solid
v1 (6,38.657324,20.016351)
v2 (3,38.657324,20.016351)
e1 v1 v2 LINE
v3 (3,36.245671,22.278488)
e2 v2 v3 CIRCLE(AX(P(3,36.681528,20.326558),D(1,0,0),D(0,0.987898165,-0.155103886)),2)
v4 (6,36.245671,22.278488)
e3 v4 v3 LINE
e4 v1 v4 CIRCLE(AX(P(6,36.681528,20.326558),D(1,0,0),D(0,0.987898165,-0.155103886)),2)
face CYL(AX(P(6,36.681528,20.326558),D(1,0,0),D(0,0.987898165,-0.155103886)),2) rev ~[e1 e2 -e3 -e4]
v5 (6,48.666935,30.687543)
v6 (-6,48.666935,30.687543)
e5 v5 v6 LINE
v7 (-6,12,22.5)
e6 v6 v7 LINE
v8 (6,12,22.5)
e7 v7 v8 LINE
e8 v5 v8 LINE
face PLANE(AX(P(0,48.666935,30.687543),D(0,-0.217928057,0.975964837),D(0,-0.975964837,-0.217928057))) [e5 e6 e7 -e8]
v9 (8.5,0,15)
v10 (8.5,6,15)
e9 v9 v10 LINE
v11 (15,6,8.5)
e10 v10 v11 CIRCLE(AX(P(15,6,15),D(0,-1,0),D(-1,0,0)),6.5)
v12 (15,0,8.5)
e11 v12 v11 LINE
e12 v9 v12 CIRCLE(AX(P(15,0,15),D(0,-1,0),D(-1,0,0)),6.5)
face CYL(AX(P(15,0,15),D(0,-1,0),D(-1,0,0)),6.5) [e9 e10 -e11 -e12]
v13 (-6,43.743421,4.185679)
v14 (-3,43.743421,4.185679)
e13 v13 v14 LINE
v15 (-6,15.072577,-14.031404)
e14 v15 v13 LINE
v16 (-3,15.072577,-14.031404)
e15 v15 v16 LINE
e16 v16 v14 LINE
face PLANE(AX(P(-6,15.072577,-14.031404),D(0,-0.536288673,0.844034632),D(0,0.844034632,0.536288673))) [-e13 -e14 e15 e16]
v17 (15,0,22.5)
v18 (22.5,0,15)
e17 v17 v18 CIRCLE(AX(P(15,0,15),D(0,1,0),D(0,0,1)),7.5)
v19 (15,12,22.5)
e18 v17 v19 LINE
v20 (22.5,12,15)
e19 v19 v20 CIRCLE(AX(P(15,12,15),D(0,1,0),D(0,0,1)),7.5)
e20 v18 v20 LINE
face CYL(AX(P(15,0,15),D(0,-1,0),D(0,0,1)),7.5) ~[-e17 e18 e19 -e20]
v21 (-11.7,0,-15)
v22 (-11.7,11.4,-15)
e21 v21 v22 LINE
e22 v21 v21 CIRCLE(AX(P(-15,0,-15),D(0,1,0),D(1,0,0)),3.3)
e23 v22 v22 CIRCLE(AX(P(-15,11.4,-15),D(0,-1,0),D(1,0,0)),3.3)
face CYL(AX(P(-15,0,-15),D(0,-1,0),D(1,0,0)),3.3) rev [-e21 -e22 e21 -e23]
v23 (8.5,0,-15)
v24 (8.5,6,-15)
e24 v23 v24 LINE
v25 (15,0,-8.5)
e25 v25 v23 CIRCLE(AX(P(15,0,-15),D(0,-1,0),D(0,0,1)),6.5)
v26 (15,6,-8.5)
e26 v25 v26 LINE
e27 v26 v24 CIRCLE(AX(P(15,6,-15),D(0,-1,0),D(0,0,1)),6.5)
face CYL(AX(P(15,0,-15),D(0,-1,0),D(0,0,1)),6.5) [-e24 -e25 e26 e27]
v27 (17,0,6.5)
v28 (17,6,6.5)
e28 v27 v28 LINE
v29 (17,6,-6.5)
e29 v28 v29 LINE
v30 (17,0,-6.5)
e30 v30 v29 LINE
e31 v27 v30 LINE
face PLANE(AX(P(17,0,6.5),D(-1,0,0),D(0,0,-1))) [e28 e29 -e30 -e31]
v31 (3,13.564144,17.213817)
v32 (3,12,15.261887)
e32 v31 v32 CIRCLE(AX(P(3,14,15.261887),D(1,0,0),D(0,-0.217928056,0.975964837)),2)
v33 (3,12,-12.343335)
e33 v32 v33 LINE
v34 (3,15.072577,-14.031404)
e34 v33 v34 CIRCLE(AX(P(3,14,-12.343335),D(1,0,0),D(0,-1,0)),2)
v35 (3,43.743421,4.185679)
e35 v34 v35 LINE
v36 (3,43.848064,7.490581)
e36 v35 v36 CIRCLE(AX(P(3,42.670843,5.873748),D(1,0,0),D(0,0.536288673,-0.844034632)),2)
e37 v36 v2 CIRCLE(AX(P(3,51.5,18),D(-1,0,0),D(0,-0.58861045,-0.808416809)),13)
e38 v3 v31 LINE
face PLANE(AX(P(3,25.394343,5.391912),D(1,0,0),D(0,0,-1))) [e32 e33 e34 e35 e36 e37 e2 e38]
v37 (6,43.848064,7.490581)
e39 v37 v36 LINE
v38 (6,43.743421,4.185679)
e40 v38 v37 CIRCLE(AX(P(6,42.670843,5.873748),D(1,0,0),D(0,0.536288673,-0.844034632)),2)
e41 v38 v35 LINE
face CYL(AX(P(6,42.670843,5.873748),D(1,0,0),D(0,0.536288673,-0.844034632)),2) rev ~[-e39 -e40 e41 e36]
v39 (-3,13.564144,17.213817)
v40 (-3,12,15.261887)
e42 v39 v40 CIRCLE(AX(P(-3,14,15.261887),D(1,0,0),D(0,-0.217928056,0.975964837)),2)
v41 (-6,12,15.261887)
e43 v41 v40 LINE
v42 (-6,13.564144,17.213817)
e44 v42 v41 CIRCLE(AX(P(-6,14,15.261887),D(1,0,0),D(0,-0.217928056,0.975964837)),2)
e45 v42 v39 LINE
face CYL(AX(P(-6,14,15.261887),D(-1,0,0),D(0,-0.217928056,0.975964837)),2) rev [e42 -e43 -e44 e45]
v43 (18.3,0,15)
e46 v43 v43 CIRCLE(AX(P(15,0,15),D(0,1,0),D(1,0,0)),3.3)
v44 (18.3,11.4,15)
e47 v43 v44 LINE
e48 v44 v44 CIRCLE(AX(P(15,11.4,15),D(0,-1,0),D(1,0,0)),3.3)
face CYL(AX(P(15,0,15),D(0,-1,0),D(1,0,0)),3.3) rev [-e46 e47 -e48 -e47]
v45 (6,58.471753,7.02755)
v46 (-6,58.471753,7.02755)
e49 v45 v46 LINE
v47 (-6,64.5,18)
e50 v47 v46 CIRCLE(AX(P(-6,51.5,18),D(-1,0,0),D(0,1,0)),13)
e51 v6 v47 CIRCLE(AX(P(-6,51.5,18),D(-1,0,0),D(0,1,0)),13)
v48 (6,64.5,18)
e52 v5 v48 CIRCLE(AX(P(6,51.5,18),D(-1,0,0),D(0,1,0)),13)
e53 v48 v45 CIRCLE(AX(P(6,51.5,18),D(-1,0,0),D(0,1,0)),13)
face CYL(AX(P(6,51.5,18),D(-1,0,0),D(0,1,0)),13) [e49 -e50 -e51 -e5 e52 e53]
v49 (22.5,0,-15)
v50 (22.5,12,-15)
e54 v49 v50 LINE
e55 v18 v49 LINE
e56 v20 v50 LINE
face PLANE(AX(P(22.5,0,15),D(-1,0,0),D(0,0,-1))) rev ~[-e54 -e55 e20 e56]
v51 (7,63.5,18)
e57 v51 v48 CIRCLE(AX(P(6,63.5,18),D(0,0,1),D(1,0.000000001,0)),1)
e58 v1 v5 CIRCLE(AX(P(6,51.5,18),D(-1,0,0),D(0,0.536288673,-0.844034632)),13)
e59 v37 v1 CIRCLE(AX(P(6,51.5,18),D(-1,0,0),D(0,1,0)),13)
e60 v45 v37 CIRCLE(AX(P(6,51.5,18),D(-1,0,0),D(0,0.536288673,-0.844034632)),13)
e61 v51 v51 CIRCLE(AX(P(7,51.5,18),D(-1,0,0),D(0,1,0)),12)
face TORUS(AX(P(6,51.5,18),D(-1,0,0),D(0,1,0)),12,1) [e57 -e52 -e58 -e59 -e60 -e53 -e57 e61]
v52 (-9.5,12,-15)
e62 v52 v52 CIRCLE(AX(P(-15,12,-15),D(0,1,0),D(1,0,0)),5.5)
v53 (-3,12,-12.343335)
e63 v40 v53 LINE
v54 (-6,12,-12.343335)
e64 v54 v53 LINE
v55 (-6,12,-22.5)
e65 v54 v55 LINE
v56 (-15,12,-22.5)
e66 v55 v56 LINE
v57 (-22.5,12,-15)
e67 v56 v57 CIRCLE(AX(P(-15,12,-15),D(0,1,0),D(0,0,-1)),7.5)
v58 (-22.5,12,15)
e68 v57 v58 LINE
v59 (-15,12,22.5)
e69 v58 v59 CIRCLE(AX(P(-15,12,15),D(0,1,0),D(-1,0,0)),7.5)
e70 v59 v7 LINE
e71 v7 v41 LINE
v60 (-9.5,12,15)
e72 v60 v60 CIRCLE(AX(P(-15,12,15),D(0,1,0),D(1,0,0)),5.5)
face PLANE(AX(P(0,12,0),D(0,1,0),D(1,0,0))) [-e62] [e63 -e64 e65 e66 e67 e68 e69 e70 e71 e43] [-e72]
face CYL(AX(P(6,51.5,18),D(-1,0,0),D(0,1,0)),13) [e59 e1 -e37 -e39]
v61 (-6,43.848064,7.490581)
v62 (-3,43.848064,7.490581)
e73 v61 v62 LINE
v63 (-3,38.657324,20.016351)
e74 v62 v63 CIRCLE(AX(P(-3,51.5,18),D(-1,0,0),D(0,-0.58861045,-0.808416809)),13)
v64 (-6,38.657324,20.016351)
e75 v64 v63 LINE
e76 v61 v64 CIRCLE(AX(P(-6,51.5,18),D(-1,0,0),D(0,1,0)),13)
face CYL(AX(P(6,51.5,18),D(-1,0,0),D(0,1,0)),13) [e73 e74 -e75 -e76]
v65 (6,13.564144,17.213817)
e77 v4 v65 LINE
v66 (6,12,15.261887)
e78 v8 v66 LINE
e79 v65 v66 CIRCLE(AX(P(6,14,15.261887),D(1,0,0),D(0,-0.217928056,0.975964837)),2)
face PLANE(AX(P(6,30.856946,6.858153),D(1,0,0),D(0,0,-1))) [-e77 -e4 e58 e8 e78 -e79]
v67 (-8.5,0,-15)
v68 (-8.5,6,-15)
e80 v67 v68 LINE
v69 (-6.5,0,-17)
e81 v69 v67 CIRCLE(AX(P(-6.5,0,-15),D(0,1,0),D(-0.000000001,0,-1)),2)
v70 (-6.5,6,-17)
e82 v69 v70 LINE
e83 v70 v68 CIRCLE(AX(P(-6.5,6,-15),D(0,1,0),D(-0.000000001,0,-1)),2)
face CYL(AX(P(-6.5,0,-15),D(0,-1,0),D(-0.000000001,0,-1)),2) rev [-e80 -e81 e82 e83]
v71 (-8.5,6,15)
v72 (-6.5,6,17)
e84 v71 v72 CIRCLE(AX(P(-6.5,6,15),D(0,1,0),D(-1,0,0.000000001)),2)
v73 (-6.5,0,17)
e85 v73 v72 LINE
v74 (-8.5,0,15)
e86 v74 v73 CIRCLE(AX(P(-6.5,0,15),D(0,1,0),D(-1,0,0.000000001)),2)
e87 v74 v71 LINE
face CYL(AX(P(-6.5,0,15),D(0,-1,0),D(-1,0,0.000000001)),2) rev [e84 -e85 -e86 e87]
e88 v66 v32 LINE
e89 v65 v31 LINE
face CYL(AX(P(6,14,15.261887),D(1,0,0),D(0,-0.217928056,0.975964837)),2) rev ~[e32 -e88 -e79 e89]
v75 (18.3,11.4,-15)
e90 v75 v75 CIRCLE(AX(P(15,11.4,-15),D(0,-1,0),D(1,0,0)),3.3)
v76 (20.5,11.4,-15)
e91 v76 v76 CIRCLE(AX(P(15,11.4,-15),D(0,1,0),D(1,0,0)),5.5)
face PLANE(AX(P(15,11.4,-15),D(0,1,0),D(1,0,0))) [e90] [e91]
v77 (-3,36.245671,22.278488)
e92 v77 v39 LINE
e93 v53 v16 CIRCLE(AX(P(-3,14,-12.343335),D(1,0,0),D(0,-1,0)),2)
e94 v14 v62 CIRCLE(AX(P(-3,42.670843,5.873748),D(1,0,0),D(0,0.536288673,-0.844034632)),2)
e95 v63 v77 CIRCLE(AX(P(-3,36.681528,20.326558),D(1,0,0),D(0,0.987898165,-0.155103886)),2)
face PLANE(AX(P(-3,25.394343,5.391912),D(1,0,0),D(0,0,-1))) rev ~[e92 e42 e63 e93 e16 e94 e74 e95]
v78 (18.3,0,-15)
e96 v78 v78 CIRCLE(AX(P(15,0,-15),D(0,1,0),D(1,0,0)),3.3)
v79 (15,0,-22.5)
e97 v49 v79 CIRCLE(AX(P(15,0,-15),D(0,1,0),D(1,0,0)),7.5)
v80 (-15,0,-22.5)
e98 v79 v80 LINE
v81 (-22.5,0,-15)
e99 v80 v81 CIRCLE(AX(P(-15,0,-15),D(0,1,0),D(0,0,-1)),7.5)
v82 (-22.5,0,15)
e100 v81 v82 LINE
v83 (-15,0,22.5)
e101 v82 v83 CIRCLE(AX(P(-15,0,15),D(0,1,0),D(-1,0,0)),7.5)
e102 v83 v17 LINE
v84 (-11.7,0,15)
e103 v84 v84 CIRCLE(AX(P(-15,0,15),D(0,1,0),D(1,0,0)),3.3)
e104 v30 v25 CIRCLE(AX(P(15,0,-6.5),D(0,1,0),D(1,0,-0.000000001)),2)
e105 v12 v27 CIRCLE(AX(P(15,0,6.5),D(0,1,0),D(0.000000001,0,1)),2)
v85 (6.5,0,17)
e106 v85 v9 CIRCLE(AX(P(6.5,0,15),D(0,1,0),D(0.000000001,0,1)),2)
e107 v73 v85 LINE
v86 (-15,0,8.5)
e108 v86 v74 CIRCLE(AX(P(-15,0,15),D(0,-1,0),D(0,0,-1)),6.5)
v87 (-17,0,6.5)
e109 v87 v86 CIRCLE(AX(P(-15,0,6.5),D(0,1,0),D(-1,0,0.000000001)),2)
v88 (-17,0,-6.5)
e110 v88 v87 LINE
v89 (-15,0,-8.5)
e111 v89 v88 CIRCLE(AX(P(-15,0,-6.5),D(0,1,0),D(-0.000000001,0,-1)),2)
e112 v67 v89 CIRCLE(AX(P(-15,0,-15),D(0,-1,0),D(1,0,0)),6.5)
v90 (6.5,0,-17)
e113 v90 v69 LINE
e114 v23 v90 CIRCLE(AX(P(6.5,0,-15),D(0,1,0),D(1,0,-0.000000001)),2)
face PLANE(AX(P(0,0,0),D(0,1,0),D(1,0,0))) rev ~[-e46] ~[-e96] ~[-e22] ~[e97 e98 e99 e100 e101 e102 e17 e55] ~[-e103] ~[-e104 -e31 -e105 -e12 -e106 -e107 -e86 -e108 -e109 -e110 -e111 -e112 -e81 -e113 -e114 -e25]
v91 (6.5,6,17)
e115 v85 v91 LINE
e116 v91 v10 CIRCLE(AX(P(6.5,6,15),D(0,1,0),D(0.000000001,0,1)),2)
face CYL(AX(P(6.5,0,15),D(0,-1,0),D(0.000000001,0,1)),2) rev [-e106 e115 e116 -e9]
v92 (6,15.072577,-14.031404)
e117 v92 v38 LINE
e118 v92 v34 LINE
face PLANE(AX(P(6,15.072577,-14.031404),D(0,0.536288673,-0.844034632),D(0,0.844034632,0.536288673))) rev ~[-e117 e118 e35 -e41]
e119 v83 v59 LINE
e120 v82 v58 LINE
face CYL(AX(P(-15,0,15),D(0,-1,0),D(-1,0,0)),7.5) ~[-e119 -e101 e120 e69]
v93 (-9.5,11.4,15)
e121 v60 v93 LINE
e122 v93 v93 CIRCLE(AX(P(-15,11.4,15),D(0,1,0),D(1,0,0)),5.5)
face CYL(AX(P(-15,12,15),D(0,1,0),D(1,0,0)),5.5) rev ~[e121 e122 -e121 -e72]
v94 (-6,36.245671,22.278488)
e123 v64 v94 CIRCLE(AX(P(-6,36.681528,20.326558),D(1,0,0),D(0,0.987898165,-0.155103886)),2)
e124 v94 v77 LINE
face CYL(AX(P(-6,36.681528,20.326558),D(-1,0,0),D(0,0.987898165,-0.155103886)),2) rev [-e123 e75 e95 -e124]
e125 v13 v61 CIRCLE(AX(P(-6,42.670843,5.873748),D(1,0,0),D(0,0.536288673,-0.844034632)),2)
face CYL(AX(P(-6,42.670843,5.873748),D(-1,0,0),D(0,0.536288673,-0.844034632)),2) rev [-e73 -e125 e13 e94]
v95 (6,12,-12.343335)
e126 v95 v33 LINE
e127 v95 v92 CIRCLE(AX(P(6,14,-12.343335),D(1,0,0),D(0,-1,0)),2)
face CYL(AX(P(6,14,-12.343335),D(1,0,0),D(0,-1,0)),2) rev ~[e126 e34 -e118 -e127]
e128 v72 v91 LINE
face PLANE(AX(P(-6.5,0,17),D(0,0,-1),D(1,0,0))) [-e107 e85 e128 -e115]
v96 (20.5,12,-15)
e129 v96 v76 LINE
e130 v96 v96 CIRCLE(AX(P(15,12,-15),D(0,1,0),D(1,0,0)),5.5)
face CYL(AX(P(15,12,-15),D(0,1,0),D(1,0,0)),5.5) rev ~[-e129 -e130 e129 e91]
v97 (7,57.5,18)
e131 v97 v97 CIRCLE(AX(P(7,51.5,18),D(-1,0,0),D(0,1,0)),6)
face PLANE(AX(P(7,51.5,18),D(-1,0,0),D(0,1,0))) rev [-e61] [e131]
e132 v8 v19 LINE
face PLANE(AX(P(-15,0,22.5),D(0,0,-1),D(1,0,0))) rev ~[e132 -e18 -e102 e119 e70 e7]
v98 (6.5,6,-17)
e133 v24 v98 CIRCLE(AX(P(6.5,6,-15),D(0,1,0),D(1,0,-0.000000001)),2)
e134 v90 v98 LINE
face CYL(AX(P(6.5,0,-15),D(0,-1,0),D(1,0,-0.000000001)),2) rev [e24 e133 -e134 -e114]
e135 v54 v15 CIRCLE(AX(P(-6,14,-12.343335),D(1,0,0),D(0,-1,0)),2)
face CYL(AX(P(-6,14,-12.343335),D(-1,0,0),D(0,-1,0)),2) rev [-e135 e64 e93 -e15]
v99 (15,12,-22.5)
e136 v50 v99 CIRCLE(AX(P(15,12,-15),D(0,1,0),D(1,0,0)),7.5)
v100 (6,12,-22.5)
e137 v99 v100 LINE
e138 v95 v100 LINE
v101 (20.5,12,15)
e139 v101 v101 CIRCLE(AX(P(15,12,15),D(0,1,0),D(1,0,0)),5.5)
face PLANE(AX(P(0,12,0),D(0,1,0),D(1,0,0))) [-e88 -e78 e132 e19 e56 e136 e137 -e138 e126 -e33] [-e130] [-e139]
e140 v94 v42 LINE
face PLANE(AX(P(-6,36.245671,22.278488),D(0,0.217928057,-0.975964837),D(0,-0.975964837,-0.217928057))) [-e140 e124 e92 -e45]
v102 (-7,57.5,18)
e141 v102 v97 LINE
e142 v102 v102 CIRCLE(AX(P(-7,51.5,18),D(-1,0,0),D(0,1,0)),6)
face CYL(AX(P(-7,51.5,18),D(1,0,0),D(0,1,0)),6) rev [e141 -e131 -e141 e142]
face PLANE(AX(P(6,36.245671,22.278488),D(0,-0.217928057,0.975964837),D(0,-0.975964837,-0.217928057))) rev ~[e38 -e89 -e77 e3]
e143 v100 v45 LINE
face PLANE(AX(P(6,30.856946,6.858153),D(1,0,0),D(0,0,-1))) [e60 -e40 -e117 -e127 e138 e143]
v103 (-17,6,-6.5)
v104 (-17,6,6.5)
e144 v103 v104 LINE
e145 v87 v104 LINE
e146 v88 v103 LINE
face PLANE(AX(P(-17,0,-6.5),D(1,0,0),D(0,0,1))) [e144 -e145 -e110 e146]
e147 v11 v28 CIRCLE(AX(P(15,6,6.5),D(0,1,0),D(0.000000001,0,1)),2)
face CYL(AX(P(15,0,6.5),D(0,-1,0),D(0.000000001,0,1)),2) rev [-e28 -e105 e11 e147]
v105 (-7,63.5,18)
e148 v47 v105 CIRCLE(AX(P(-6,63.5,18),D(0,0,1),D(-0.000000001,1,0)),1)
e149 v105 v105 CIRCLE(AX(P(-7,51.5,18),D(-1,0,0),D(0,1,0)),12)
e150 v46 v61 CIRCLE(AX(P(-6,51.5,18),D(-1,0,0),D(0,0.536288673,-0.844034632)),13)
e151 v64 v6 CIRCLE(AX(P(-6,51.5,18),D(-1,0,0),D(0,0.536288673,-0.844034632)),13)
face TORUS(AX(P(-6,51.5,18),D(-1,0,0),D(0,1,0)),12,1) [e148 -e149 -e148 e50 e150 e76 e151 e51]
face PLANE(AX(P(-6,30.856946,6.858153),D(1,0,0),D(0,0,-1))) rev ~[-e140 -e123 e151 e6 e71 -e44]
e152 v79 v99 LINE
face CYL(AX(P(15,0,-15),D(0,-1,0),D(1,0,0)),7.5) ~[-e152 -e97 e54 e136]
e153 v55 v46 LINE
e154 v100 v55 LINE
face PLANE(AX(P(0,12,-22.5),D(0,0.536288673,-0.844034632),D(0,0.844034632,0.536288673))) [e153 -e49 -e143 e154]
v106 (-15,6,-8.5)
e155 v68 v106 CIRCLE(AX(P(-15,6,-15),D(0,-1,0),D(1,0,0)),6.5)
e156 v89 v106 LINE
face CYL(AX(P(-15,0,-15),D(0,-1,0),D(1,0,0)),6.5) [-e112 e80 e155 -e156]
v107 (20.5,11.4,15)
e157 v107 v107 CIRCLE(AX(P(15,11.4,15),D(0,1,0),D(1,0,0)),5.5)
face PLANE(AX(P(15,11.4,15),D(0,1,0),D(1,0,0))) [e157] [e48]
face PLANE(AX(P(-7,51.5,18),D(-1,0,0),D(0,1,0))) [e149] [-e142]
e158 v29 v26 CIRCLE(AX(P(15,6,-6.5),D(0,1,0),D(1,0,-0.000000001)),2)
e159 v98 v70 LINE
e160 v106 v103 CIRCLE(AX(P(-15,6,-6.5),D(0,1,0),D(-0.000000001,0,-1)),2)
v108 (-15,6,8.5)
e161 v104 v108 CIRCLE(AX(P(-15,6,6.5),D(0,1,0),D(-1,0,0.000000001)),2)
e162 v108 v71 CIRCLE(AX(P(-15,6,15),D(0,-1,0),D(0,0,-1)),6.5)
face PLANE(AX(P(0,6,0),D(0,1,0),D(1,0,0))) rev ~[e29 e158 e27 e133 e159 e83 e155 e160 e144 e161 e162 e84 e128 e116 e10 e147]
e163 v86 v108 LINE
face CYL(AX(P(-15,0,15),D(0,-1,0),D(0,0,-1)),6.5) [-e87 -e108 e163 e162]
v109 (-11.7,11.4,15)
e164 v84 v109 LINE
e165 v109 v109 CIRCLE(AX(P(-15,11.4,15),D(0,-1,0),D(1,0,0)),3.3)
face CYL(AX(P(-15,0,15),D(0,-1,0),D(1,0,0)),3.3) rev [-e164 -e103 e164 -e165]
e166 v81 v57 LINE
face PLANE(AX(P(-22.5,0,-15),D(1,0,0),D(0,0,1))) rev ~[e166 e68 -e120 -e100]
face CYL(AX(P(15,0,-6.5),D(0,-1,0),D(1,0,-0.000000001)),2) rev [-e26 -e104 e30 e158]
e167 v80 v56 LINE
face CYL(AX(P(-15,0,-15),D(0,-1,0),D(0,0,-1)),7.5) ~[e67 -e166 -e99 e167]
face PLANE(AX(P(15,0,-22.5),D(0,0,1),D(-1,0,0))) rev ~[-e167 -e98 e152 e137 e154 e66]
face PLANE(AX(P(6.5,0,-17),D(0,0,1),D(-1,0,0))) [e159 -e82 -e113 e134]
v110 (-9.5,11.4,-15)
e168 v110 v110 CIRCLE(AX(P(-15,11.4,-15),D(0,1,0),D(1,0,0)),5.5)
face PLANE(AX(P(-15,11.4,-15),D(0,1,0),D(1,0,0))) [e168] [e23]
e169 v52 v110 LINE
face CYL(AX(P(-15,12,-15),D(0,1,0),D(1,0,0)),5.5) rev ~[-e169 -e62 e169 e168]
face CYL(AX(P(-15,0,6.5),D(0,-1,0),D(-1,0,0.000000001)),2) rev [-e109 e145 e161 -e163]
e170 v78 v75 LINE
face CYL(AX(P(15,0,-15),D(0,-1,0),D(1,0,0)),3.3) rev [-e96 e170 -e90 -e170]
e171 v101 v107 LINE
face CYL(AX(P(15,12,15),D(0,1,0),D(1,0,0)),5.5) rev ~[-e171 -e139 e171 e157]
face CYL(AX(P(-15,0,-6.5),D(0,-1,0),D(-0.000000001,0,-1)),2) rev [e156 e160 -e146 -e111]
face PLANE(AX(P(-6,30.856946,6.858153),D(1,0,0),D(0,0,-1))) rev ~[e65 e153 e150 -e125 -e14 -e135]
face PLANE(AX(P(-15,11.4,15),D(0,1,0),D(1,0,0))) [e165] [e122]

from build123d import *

# Parameters (mm, degrees)
SKETCH1_R                = 3.3
BOSS_EXTRUDE1_DEPTH      = 12
BOSS_EXTRUDE2_DEPTH      = 6
BOSS_EXTRUDE2_DEPTH_BACK = 6
CUT_EXTRUDE1_DEPTH       = 3
CUT_EXTRUDE2_DEPTH       = 3
CUT_EXTRUDE3_DEPTH       = 6
SKETCH7_R                = 5.5
CUT_EXTRUDE4_DEPTH       = 0.6
SKETCH8_R                = 5.5
CUT_EXTRUDE5_DEPTH       = 0.6
SKETCH9_R                = 5.5
CUT_EXTRUDE6_DEPTH       = 0.6
SKETCH10_R               = 5.5
CUT_EXTRUDE7_DEPTH       = 0.6


with BuildPart() as part:
    # Sketch1 → Boss-Extrude1 (new body)
    with BuildSketch(Plane(origin=(0, 0, 0), x_dir=(1, 0, 0), z_dir=(0, 1, 0))):
        with BuildLine():
            Line((-15, -22.5), (15, -22.5))
            ThreePointArc((15, -22.5), (20.303300859, -20.303300859), (22.5, -15))
            Line((22.5, -15), (22.5, 15))
            ThreePointArc((22.5, 15), (20.303300859, 20.303300859), (15, 22.5))
            Line((15, 22.5), (-15, 22.5))
            ThreePointArc((-15, 22.5), (-20.303300859, 20.303300859), (-22.5, 15))
            Line((-22.5, 15), (-22.5, -15))
            ThreePointArc((-22.5, -15), (-20.303300859, -20.303300859), (-15, -22.5))
        make_face()
        with Locations((15, 15)):
            Circle(SKETCH1_R, mode=Mode.SUBTRACT)
        with Locations((15, -15)):
            Circle(SKETCH1_R, mode=Mode.SUBTRACT)
        with Locations((-15, 15)):
            Circle(SKETCH1_R, mode=Mode.SUBTRACT)
        with Locations((-15, -15)):
            Circle(SKETCH1_R, mode=Mode.SUBTRACT)
    extrude(amount=BOSS_EXTRUDE1_DEPTH)

    # Sketch2 → Boss-Extrude2 (add, two sides)
    with BuildSketch(Plane(origin=(0, 0, 0), x_dir=(0, 0, -1), z_dir=(1, 0, 0))) as boss_extrude2_sk:
        with BuildLine():
            Line((-30.687542875, 48.666935264), (-22.5, 12))
            Line((-22.5, 12), (22.5, 12))
            Line((22.5, 12), (-7.027549789, 58.471752748))
            ThreePointArc((-7.027549789, 58.471752748), (-13.023153892, 39.49037874), (-30.687542875, 48.666935264))
        make_face()
    extrude(amount=BOSS_EXTRUDE2_DEPTH)
    extrude(boss_extrude2_sk.sketch, amount=-BOSS_EXTRUDE2_DEPTH_BACK)

    # Sketch3 → Cut-Extrude1 (cut)
    with BuildSketch(Plane(origin=(6, 0, 0), x_dir=(0, 0, -1), z_dir=(1, 0, 0))):
        with BuildLine():
            Line((-22.278487974, 36.245671412), (-17.213816554, 13.564143887))
            ThreePointArc((-17.213816554, 13.564143887), (-16.512544263, 12.439277054), (-15.261886881, 12))
            Line((-15.261886881, 12), (12.343334592, 12))
            ThreePointArc((12.343334592, 12), (14.096211469, 13.036972143), (14.031403855, 15.072577346))
            Line((14.031403855, 15.072577346), (-4.185678595, 43.743420591))
            ThreePointArc((-4.185678595, 43.743420591), (-5.810453328, 44.669841445), (-7.490581477, 43.848064146))
            ThreePointArc((-7.490581477, 43.848064146), (-13.023153892, 39.49037874), (-20.016350528, 38.657323856))
            ThreePointArc((-20.016350528, 38.657323856), (-21.785266488, 38.049800314), (-22.278487974, 36.245671412))
        make_face()
    extrude(amount=-CUT_EXTRUDE1_DEPTH, mode=Mode.SUBTRACT)

    # Sketch4 → Cut-Extrude2 (cut)
    with BuildSketch(Plane(origin=(-6, 0, 0), x_dir=(0, 0, -1), z_dir=(1, 0, 0))):
        with BuildLine():
            Line((-22.278487974, 36.245671412), (-17.213816554, 13.564143887))
            ThreePointArc((-17.213816554, 13.564143887), (-16.512544263, 12.439277054), (-15.261886881, 12))
            Line((-15.261886881, 12), (12.343334592, 12))
            ThreePointArc((12.343334592, 12), (14.096211469, 13.036972143), (14.031403855, 15.072577346))
            Line((14.031403855, 15.072577346), (-4.185678595, 43.743420591))
            ThreePointArc((-4.185678595, 43.743420591), (-5.810453328, 44.669841445), (-7.490581477, 43.848064146))
            ThreePointArc((-7.490581477, 43.848064146), (-13.023153892, 39.49037874), (-20.016350528, 38.657323856))
            ThreePointArc((-20.016350528, 38.657323856), (-21.785266488, 38.049800314), (-22.278487974, 36.245671412))
        make_face()
    extrude(amount=CUT_EXTRUDE2_DEPTH, mode=Mode.SUBTRACT)

    # Sketch5 → Revolve1 (revolve)
    with BuildSketch(Plane.XY.offset(18)):
        with BuildLine():
            Line((-7, 63.5), (-7, 57.5))
            Line((-7, 57.5), (7, 57.5))
            Line((7, 57.5), (7, 63.5))
            ThreePointArc((7, 63.5), (6.707106781, 64.207106781), (6, 64.5))
            Line((6, 64.5), (-6, 64.5))
            ThreePointArc((-6, 64.5), (-6.707106781, 64.207106781), (-7, 63.5))
        make_face()
    revolve(axis=Axis((7, 51.5, 18), (-1, 0, 0)))

    # Sketch6 → Cut-Extrude3 (cut)
    with BuildSketch(Plane(origin=(0, 0, 0), x_dir=(1, 0, 0), z_dir=(0, 1, 0))):
        with BuildLine():
            Line((-17, 6.5), (-17, -6.5))
            ThreePointArc((-17, -6.5), (-16.414213562, -7.914213562), (-15, -8.5))
            ThreePointArc((-15, -8.5), (-10.403805922, -10.403805922), (-8.5, -15))
            ThreePointArc((-8.5, -15), (-7.914213562, -16.414213562), (-6.5, -17))
            Line((-6.5, -17), (6.5, -17))
            ThreePointArc((6.5, -17), (7.914213562, -16.414213562), (8.5, -15))
            ThreePointArc((8.5, -15), (10.403805922, -10.403805922), (15, -8.5))
            ThreePointArc((15, -8.5), (16.414213562, -7.914213562), (17, -6.5))
            Line((17, -6.5), (17, 6.5))
            ThreePointArc((17, 6.5), (16.414213562, 7.914213562), (15, 8.5))
            ThreePointArc((15, 8.5), (10.403805922, 10.403805922), (8.5, 15))
            ThreePointArc((8.5, 15), (7.914213562, 16.414213562), (6.5, 17))
            Line((6.5, 17), (-6.5, 17))
            ThreePointArc((-6.5, 17), (-7.914213562, 16.414213562), (-8.5, 15))
            ThreePointArc((-8.5, 15), (-10.403805922, 10.403805922), (-15, 8.5))
            ThreePointArc((-15, 8.5), (-16.414213562, 7.914213562), (-17, 6.5))
        make_face()
    extrude(amount=CUT_EXTRUDE3_DEPTH, mode=Mode.SUBTRACT)

    # Sketch7 → Cut-Extrude4 (cut)
    with BuildSketch(Plane(origin=(0, 12, 0), x_dir=(1, 0, 0), z_dir=(0, 1, 0))):
        with Locations((15, 15)):
            Circle(SKETCH7_R)
    extrude(amount=-CUT_EXTRUDE4_DEPTH, mode=Mode.SUBTRACT)

    # Sketch8 → Cut-Extrude5 (cut)
    with BuildSketch(Plane(origin=(0, 12, 0), x_dir=(1, 0, 0), z_dir=(0, 1, 0))):
        with Locations((-15, 15)):
            Circle(SKETCH8_R)
    extrude(amount=-CUT_EXTRUDE5_DEPTH, mode=Mode.SUBTRACT)

    # Sketch9 → Cut-Extrude6 (cut)
    with BuildSketch(Plane(origin=(0, 12, 0), x_dir=(1, 0, 0), z_dir=(0, 1, 0))):
        with Locations((15, -15)):
            Circle(SKETCH9_R)
    extrude(amount=-CUT_EXTRUDE6_DEPTH, mode=Mode.SUBTRACT)

    # Sketch10 → Cut-Extrude7 (cut)
    with BuildSketch(Plane(origin=(0, 12, 0), x_dir=(1, 0, 0), z_dir=(0, 1, 0))):
        with Locations((-15, -15)):
            Circle(SKETCH10_R)
    extrude(amount=-CUT_EXTRUDE7_DEPTH, mode=Mode.SUBTRACT)


solid = part.part
